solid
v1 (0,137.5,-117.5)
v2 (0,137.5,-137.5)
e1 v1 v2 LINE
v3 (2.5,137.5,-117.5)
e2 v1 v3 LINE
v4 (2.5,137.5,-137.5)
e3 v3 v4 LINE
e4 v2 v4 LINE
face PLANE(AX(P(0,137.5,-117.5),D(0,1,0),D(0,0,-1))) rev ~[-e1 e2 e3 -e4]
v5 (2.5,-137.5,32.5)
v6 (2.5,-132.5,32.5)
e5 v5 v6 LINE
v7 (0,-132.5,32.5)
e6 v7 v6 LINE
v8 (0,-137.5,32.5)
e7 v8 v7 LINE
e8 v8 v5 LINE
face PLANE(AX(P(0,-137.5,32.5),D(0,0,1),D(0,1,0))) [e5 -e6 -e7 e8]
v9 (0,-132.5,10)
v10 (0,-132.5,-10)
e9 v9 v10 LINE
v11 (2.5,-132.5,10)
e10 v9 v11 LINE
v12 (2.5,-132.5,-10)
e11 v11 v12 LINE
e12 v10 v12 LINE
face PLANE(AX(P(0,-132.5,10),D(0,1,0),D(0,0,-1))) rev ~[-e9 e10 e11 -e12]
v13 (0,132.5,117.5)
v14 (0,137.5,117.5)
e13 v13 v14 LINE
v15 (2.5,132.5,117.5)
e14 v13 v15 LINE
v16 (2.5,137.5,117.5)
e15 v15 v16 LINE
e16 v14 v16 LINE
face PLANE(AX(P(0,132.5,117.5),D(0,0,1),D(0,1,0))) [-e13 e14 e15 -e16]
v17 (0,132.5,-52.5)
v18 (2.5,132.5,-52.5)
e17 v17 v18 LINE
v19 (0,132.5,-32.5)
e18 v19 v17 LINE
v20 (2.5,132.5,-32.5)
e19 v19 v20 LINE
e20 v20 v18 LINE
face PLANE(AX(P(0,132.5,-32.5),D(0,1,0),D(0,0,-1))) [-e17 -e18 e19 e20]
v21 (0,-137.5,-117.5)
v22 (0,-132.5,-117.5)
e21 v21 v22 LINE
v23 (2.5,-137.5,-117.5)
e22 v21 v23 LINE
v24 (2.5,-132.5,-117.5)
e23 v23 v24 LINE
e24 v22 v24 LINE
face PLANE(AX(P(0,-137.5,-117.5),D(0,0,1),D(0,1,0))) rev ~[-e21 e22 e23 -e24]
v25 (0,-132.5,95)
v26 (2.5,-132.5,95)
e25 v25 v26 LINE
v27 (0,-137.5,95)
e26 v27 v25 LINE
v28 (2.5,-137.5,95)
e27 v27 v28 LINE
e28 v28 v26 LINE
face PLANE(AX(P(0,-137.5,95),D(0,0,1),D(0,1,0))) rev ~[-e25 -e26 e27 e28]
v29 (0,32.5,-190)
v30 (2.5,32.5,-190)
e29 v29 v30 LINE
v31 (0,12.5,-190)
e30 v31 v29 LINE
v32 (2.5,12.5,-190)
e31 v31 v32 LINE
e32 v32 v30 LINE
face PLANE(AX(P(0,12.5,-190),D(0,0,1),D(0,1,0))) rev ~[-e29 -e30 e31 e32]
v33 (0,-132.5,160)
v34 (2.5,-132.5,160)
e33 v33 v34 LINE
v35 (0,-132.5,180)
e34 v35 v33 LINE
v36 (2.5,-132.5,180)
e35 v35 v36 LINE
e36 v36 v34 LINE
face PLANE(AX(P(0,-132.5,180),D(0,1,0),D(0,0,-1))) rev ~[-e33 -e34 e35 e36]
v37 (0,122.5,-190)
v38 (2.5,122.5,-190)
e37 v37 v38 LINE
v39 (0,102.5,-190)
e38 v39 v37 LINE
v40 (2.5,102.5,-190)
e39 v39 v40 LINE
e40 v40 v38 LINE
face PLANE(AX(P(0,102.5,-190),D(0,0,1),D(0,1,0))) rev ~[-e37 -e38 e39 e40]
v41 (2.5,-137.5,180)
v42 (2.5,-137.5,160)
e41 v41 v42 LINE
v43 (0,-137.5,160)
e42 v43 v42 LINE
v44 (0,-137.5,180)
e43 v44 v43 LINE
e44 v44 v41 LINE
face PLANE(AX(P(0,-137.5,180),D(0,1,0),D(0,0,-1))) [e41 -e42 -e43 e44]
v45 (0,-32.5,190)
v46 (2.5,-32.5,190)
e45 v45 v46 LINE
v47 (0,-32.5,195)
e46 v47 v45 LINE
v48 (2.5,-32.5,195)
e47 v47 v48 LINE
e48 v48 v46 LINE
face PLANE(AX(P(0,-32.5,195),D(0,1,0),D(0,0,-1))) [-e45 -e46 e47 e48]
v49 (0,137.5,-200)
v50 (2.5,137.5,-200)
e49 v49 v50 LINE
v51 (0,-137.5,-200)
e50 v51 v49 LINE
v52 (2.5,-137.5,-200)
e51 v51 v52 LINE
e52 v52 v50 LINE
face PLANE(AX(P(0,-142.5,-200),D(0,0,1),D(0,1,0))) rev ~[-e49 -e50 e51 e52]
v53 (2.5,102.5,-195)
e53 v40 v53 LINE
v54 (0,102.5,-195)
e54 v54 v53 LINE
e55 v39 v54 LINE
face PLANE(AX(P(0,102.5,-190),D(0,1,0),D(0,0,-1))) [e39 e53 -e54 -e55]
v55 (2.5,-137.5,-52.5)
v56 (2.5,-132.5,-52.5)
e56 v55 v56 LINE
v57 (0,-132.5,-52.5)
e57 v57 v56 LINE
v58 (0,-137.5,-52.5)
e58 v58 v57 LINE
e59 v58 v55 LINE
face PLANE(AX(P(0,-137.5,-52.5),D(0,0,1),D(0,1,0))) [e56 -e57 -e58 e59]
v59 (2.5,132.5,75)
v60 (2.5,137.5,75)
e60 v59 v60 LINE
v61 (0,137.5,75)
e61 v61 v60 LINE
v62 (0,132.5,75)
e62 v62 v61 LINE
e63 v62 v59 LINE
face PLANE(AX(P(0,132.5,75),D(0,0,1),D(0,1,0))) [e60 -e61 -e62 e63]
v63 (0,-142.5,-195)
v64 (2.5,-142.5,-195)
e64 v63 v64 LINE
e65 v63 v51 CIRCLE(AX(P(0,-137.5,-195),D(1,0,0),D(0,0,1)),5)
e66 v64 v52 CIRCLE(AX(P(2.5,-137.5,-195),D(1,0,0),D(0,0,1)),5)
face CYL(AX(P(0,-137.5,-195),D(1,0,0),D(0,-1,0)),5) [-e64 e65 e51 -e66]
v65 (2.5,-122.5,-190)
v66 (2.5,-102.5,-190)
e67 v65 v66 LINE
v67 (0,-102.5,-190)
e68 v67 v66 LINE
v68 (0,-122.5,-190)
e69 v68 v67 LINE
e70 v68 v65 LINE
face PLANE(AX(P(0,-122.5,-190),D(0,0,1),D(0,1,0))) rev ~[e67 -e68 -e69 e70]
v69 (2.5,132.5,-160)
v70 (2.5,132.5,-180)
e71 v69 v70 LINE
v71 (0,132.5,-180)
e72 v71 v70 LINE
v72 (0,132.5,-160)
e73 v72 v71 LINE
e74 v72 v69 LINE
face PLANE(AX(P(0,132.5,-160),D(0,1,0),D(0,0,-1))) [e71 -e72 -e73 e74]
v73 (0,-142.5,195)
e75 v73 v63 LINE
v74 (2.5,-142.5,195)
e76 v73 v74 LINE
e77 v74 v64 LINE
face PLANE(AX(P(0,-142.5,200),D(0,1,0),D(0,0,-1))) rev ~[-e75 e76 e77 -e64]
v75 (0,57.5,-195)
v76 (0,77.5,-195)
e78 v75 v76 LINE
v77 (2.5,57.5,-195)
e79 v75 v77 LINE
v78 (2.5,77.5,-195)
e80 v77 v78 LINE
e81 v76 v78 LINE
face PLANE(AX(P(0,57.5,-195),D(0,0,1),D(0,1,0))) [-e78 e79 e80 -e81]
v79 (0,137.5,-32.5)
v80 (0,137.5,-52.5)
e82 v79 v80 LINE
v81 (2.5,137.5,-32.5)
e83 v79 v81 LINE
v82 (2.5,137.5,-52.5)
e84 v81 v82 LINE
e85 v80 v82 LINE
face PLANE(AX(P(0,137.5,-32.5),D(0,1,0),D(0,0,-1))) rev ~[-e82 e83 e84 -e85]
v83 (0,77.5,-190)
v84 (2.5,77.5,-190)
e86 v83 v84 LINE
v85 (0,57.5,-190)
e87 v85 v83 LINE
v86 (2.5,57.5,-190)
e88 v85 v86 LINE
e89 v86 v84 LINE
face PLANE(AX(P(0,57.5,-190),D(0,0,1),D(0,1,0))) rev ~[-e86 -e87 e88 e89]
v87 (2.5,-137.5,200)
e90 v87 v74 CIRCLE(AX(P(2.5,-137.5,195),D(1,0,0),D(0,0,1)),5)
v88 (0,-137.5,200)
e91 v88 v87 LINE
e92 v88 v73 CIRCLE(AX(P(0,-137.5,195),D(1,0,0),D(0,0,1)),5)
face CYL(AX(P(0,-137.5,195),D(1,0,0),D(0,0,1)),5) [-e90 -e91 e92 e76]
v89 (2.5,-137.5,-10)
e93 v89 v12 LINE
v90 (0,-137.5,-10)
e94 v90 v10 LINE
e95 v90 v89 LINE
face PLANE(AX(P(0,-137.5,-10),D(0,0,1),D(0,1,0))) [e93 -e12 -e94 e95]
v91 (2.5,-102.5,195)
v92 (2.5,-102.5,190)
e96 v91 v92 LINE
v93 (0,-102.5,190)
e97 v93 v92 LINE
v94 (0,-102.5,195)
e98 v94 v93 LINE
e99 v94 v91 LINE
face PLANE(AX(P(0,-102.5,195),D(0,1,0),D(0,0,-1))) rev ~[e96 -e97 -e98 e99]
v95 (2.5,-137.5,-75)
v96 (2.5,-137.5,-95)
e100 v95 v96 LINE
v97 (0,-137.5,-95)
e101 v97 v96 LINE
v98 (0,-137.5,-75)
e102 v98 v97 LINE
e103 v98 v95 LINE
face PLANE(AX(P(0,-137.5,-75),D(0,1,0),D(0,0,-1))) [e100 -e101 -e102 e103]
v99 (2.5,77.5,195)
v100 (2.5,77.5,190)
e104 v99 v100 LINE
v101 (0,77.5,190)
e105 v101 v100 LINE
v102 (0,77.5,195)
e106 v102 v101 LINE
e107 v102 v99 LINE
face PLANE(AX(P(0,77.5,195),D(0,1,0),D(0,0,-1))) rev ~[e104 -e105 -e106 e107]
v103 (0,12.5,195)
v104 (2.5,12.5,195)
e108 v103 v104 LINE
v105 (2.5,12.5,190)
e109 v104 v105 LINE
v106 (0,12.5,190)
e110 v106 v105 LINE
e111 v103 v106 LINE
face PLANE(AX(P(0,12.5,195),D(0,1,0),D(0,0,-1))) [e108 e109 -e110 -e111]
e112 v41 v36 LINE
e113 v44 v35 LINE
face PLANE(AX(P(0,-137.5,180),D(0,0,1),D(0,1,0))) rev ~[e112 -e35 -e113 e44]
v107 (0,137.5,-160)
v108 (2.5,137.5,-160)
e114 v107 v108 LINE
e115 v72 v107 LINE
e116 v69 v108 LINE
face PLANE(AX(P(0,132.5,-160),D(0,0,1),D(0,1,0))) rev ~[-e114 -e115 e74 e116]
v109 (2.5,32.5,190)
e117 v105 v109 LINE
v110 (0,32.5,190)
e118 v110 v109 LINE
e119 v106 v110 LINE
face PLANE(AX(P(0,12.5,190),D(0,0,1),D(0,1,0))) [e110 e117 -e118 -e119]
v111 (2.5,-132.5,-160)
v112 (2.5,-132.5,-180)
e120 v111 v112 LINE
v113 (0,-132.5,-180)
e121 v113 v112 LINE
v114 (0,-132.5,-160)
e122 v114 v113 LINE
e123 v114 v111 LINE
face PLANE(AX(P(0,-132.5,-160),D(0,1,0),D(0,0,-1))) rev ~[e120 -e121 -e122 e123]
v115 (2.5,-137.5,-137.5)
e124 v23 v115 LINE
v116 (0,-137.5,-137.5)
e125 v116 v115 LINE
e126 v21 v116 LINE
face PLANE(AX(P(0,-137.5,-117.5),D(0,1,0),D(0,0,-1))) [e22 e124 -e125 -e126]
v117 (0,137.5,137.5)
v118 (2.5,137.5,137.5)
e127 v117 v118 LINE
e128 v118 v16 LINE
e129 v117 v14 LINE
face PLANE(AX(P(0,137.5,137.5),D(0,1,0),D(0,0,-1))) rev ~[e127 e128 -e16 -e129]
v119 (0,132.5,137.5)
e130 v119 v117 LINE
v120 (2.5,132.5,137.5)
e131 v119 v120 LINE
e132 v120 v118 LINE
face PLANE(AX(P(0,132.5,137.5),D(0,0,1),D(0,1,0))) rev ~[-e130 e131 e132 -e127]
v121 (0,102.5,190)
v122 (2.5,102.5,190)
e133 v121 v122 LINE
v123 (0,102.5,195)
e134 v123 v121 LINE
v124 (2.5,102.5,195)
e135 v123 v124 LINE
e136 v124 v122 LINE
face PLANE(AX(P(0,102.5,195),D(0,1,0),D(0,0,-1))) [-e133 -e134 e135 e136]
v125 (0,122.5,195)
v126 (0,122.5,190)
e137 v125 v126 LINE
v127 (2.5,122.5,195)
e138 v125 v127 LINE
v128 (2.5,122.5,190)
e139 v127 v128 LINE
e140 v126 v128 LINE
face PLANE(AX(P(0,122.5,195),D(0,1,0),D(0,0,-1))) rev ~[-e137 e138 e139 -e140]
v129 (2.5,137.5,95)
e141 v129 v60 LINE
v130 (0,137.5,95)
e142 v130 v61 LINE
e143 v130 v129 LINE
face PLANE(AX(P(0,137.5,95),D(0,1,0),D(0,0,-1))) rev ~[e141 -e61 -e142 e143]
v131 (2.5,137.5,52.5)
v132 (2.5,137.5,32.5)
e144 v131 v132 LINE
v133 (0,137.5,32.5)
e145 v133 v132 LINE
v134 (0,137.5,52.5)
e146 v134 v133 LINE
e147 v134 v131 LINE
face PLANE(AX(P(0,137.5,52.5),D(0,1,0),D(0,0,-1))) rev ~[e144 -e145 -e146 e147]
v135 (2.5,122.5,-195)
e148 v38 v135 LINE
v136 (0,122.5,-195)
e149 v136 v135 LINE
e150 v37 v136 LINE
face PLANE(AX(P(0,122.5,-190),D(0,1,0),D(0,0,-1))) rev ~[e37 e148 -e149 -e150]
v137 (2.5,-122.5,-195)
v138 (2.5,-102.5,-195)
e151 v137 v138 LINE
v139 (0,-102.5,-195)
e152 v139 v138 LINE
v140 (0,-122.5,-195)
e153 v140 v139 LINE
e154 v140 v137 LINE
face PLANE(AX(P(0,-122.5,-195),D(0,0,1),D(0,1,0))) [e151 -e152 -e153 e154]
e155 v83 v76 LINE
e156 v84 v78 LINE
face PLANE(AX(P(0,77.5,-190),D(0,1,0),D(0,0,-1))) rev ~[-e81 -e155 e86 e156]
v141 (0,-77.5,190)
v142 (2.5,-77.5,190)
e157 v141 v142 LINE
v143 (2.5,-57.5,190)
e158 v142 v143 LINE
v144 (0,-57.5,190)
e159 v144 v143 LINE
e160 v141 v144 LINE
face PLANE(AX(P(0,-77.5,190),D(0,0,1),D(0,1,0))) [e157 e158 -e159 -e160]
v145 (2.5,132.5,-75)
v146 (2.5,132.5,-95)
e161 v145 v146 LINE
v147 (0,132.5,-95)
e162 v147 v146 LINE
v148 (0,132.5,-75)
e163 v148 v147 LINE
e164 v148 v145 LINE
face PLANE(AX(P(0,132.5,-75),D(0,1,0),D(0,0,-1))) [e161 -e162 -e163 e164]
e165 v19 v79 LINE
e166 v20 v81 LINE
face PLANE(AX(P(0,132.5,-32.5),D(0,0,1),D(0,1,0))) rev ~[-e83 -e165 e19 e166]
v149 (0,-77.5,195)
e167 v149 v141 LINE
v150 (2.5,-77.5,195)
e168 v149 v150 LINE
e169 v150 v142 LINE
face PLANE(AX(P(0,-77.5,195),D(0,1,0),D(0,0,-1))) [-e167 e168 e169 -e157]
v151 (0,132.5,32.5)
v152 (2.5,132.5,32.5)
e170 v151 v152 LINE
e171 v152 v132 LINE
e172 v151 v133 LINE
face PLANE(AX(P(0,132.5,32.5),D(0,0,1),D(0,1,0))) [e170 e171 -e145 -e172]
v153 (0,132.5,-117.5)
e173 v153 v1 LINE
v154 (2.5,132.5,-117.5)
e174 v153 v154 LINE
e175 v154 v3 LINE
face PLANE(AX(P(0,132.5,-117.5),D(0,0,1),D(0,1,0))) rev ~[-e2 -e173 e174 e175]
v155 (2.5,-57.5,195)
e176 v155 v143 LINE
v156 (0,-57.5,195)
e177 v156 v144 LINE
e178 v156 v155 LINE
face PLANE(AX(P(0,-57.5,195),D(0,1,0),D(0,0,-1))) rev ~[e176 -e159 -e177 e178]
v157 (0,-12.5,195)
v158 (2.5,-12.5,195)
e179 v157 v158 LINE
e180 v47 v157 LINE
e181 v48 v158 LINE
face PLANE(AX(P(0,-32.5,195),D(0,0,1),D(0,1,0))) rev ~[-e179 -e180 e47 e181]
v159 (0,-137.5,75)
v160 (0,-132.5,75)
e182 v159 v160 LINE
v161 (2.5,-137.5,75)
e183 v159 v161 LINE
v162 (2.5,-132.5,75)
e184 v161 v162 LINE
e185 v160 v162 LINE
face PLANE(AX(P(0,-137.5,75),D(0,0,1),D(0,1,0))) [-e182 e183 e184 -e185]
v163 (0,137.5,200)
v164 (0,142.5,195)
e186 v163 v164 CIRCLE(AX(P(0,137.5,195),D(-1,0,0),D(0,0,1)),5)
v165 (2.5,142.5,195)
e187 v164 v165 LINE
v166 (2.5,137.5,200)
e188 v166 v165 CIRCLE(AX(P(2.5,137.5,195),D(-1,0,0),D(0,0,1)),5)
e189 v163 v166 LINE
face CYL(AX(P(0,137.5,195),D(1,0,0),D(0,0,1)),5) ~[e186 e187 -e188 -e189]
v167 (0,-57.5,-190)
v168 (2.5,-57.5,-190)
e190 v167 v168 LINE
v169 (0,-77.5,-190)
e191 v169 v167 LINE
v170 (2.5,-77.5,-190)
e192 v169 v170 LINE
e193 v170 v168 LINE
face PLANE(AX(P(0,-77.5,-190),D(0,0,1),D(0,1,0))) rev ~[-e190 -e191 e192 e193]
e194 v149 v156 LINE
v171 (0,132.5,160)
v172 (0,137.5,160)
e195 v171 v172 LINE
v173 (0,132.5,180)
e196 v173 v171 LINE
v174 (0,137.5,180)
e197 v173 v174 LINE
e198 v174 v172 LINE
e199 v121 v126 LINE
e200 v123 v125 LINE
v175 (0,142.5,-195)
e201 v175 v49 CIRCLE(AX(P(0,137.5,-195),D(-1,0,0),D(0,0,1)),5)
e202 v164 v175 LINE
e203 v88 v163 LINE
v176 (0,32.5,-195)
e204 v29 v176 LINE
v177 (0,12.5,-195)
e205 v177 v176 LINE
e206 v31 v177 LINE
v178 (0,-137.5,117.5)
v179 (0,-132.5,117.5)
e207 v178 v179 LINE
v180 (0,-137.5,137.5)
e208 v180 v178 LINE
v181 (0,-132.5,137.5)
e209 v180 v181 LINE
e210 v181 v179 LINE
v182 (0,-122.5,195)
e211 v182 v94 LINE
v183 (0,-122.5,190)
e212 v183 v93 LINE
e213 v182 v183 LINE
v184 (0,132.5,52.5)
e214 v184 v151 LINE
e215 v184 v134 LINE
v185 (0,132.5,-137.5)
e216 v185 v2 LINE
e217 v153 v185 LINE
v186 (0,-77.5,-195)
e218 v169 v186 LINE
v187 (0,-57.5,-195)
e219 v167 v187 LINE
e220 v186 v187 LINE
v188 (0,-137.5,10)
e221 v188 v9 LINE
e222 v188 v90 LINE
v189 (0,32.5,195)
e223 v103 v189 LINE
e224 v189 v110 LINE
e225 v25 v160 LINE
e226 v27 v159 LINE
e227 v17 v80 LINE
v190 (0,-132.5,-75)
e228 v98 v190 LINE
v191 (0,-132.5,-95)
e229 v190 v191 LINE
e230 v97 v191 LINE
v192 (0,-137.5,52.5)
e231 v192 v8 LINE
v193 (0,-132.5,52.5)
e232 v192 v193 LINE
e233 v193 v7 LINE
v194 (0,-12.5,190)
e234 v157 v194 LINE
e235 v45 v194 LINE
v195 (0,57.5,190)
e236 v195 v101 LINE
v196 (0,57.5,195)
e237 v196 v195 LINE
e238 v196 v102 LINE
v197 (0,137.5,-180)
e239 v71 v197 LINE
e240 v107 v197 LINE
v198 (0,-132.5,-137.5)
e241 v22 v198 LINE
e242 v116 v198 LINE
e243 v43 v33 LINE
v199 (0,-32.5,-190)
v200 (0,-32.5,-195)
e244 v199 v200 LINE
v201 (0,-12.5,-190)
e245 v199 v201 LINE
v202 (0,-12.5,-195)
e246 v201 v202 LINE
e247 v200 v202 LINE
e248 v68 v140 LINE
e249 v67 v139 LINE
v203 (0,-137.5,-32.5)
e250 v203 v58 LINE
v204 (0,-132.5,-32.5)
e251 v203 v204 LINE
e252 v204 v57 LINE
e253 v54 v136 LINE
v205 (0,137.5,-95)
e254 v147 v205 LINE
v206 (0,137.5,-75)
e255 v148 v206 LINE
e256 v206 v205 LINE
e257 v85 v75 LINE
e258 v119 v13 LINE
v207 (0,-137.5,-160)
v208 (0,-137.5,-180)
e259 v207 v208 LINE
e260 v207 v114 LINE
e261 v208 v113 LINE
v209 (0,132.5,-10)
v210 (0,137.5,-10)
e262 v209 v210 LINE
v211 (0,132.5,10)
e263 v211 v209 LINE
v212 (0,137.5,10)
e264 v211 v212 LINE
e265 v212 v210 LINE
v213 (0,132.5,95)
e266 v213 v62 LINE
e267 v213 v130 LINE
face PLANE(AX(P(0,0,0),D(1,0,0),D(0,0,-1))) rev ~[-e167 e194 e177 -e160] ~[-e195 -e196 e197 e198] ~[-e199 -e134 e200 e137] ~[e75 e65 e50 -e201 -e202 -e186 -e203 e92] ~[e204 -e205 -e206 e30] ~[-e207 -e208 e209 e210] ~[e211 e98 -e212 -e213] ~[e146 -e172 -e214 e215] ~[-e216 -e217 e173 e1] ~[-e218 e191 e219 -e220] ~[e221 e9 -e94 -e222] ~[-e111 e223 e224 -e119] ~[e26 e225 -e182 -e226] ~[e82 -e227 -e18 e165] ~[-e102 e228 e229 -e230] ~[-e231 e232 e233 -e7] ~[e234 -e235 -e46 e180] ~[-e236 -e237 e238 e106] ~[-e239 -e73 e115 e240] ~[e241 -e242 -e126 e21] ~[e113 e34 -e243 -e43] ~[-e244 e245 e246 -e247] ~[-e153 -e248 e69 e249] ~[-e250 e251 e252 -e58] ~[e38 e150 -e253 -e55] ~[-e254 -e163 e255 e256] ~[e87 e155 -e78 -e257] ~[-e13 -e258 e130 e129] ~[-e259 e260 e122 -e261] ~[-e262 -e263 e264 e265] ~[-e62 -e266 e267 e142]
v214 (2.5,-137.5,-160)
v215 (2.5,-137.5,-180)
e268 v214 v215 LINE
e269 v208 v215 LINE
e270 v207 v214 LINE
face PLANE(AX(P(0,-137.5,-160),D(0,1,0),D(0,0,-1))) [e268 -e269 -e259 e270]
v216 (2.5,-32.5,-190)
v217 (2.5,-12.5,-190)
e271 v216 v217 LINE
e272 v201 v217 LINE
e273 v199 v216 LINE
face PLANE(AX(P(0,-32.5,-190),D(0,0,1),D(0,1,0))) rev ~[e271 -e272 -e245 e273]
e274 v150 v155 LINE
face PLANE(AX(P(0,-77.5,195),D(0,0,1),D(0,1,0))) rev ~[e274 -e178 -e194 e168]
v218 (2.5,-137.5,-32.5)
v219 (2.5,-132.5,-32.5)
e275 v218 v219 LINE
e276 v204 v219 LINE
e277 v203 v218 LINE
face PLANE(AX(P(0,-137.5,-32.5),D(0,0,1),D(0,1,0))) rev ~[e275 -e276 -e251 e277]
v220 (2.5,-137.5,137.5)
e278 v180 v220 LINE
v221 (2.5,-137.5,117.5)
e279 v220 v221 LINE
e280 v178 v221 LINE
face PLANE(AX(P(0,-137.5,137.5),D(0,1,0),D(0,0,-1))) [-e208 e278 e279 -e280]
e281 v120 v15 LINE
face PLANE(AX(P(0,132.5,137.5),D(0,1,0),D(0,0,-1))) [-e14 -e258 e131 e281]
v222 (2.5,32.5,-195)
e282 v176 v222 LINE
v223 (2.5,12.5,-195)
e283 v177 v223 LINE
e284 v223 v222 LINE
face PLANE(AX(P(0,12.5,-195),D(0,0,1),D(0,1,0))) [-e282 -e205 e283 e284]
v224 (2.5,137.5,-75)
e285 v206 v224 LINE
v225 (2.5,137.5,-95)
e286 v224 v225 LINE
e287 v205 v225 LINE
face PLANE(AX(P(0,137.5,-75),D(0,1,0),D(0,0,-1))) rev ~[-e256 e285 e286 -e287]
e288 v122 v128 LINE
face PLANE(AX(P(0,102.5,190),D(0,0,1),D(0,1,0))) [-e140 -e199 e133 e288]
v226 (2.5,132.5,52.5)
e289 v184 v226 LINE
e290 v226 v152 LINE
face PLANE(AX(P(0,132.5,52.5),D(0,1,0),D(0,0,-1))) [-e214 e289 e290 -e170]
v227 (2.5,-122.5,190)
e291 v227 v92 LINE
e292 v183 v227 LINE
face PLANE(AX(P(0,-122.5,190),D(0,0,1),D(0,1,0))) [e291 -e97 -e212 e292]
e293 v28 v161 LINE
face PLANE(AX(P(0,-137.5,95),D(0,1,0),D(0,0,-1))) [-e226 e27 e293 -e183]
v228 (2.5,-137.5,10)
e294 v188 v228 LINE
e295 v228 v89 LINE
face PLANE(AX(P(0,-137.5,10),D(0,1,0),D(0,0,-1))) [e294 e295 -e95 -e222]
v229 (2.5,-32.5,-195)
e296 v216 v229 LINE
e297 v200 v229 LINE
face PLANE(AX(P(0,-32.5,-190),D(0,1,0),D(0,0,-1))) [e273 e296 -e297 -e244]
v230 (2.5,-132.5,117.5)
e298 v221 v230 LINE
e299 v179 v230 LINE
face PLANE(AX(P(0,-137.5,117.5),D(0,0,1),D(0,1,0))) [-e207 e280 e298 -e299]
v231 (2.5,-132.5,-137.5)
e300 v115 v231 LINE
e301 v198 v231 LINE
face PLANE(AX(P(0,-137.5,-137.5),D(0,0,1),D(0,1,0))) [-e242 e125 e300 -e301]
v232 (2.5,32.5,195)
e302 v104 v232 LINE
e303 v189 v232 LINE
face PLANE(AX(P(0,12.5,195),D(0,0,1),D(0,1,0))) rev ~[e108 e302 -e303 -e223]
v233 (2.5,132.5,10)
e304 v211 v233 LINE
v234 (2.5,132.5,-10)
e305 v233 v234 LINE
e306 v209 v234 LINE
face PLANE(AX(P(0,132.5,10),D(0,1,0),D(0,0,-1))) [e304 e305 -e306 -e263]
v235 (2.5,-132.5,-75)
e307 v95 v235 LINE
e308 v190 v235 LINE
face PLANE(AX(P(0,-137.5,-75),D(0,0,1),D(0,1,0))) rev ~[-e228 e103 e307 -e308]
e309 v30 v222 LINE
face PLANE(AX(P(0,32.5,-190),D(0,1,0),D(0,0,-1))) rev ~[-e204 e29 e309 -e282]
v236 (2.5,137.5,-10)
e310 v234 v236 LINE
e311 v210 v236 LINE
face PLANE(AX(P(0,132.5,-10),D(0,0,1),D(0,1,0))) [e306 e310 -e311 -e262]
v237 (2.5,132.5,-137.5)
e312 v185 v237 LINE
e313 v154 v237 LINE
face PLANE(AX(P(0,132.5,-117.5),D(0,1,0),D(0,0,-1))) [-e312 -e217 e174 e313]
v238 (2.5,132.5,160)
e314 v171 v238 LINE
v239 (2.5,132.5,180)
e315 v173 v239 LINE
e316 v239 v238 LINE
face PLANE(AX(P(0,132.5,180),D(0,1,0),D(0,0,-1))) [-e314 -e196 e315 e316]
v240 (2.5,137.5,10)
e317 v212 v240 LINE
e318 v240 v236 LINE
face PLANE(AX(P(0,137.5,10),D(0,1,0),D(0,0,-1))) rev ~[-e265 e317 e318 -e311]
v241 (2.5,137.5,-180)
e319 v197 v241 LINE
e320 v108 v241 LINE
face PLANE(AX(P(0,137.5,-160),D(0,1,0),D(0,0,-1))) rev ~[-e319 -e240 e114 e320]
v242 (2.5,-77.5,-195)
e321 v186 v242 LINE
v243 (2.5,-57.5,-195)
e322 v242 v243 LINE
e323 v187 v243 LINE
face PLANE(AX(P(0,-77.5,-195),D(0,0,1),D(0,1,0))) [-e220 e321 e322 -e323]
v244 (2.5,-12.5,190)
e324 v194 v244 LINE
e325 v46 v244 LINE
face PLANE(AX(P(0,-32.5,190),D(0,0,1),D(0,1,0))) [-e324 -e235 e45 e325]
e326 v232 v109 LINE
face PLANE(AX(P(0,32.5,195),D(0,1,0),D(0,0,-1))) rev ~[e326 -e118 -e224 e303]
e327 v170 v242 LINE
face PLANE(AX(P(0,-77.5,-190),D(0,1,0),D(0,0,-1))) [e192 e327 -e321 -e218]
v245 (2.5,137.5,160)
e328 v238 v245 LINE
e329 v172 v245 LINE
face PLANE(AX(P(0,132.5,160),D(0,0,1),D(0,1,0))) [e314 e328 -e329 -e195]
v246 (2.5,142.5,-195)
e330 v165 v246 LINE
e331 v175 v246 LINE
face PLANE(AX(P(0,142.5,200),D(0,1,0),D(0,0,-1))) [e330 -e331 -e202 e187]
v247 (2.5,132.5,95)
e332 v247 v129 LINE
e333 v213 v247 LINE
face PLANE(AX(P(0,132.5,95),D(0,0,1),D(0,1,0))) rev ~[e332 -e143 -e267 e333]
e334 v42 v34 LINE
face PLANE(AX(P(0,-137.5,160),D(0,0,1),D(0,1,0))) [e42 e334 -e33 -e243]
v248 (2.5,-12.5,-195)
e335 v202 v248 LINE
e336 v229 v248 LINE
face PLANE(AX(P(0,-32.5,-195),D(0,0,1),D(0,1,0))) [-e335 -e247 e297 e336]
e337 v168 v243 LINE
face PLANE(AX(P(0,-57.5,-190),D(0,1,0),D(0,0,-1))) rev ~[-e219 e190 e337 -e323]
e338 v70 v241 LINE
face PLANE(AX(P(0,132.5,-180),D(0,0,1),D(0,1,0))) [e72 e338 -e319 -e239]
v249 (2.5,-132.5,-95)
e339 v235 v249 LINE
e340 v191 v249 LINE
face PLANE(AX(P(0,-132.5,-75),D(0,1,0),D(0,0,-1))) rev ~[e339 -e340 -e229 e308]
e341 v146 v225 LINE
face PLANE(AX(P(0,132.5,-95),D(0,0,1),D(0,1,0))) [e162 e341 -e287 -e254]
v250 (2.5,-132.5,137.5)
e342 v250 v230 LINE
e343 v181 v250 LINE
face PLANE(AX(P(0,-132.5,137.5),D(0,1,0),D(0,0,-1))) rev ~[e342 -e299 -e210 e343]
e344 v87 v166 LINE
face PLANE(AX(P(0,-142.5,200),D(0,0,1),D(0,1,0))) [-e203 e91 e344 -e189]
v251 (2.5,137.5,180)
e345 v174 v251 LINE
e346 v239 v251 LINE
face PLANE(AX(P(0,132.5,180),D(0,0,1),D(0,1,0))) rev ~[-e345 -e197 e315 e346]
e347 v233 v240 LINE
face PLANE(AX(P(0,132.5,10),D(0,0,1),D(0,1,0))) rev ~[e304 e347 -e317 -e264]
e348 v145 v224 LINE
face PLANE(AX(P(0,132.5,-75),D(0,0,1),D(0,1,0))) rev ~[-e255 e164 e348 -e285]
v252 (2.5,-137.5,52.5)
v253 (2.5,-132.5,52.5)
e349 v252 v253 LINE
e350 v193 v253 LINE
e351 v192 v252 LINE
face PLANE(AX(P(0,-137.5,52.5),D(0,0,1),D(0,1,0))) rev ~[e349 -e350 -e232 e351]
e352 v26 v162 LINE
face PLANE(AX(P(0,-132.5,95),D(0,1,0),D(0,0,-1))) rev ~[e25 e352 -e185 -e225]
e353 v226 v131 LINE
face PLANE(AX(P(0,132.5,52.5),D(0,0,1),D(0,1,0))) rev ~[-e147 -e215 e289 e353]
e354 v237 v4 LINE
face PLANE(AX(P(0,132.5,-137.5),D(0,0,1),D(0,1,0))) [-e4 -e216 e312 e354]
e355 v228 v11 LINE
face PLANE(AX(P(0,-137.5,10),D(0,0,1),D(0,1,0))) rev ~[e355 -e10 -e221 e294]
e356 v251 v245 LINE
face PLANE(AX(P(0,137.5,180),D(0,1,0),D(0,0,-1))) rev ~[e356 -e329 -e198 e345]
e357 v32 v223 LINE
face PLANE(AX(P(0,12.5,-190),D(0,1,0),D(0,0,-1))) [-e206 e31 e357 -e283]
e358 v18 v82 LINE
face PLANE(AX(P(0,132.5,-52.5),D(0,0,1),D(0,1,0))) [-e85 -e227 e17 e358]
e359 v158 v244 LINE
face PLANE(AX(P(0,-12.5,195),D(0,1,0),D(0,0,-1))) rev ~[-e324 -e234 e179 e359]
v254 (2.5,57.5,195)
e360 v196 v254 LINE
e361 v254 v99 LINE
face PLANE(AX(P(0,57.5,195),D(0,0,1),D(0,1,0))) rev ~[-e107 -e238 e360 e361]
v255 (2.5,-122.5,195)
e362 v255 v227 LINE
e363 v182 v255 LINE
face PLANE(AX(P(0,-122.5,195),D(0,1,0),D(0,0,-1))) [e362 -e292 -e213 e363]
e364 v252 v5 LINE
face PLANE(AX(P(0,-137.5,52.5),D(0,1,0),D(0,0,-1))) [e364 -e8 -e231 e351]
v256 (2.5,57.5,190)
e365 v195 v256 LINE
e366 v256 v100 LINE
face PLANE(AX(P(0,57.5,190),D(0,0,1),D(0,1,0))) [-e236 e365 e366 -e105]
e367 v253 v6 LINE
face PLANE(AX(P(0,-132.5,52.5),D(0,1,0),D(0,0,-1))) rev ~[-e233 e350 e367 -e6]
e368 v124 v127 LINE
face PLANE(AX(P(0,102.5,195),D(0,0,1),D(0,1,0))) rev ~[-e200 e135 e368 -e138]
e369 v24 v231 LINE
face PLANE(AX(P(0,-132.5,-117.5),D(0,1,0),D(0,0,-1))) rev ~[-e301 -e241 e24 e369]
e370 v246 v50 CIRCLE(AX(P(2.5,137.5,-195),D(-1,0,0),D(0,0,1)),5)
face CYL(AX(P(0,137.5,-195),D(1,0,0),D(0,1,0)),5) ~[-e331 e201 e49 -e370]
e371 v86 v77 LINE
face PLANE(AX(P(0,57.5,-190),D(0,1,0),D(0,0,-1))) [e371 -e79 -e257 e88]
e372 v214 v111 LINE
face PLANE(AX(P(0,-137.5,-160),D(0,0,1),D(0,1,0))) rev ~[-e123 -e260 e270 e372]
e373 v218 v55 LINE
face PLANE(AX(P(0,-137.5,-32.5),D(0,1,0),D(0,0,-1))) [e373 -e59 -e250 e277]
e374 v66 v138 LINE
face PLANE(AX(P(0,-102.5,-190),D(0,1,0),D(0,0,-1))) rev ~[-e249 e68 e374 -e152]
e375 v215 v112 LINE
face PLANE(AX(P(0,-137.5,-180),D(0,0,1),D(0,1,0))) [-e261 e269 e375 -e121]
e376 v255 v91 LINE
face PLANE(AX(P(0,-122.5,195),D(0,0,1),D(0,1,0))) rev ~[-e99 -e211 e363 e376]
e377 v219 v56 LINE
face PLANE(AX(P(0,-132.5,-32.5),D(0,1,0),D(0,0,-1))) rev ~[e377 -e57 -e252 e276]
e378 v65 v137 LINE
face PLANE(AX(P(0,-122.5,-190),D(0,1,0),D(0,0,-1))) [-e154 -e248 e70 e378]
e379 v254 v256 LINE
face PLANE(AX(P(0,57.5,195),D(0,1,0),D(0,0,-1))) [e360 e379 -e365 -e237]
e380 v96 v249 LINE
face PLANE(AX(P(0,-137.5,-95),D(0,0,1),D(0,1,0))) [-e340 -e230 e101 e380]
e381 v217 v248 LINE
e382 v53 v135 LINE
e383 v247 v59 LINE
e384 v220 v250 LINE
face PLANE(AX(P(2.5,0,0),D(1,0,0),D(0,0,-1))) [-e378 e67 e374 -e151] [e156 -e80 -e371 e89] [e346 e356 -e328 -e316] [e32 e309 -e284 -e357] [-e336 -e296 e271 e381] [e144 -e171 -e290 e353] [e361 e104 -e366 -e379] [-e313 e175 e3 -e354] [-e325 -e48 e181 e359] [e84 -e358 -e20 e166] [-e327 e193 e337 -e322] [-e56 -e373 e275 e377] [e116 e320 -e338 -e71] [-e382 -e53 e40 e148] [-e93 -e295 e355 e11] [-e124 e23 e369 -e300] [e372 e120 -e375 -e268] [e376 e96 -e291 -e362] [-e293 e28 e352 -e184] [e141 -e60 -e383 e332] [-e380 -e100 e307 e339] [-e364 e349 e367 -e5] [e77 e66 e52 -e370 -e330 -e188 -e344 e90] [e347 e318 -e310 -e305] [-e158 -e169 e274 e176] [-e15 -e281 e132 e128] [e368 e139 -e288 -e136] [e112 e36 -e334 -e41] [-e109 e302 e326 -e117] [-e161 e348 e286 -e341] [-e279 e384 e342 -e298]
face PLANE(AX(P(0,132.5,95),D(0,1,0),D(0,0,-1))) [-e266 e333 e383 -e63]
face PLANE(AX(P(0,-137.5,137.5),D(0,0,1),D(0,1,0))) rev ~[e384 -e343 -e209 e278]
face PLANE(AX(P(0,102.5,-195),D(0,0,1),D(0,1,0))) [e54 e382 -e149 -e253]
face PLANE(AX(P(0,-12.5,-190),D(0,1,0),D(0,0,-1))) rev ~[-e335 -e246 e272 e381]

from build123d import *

# Parameters (mm, degrees)
SKETCH1_2_W         = 400
SKETCH1_2_H         = 285
SKETCH1_2_W_2       = 20
SKETCH1_2_H_2       = 5
SKETCH1_2_W_3       = 5
SKETCH1_2_H_3       = 20
BOSS_EXTRUDE3_DEPTH = 2.5
FILLET2_R           = 5


with BuildPart() as part:
    # Sketch1<2> → Boss-Extrude3 (new body)
    with BuildSketch(Plane(origin=(0, 0, 0), x_dir=(0, 0, -1), z_dir=(1, 0, 0))):
        Rectangle(SKETCH1_2_W, SKETCH1_2_H)
        with Locations((-170, 135)):
            Rectangle(SKETCH1_2_W_2, SKETCH1_2_H_2, mode=Mode.SUBTRACT)
        with Locations((-170, -135)):
            Rectangle(SKETCH1_2_W_2, SKETCH1_2_H_2, mode=Mode.SUBTRACT)
        with Locations((-127.5, 135)):
            Rectangle(SKETCH1_2_W_2, SKETCH1_2_H_2, mode=Mode.SUBTRACT)
        with Locations((-127.5, -135)):
            Rectangle(SKETCH1_2_W_2, SKETCH1_2_H_2, mode=Mode.SUBTRACT)
        with Locations((-85, 135)):
            Rectangle(SKETCH1_2_W_2, SKETCH1_2_H_2, mode=Mode.SUBTRACT)
        with Locations((-85, -135)):
            Rectangle(SKETCH1_2_W_2, SKETCH1_2_H_2, mode=Mode.SUBTRACT)
        with Locations((-42.5, 135)):
            Rectangle(SKETCH1_2_W_2, SKETCH1_2_H_2, mode=Mode.SUBTRACT)
        with Locations((-42.5, -135)):
            Rectangle(SKETCH1_2_W_2, SKETCH1_2_H_2, mode=Mode.SUBTRACT)
        with Locations((0, 135)):
            Rectangle(SKETCH1_2_W_2, SKETCH1_2_H_2, mode=Mode.SUBTRACT)
        with Locations((0, -135)):
            Rectangle(SKETCH1_2_W_2, SKETCH1_2_H_2, mode=Mode.SUBTRACT)
        with Locations((42.5, 135)):
            Rectangle(SKETCH1_2_W_2, SKETCH1_2_H_2, mode=Mode.SUBTRACT)
        with Locations((42.5, -135)):
            Rectangle(SKETCH1_2_W_2, SKETCH1_2_H_2, mode=Mode.SUBTRACT)
        with Locations((85, 135)):
            Rectangle(SKETCH1_2_W_2, SKETCH1_2_H_2, mode=Mode.SUBTRACT)
        with Locations((85, -135)):
            Rectangle(SKETCH1_2_W_2, SKETCH1_2_H_2, mode=Mode.SUBTRACT)
        with Locations((127.5, 135)):
            Rectangle(SKETCH1_2_W_2, SKETCH1_2_H_2, mode=Mode.SUBTRACT)
        with Locations((127.5, -135)):
            Rectangle(SKETCH1_2_W_2, SKETCH1_2_H_2, mode=Mode.SUBTRACT)
        with Locations((170, 135)):
            Rectangle(SKETCH1_2_W_2, SKETCH1_2_H_2, mode=Mode.SUBTRACT)
        with Locations((170, -135)):
            Rectangle(SKETCH1_2_W_2, SKETCH1_2_H_2, mode=Mode.SUBTRACT)
        with Locations((192.5, 112.5)):
            Rectangle(SKETCH1_2_W_3, SKETCH1_2_H_3, mode=Mode.SUBTRACT)
        with Locations((-192.5, 112.5)):
            Rectangle(SKETCH1_2_W_3, SKETCH1_2_H_3, mode=Mode.SUBTRACT)
        with Locations((-192.5, 67.5)):
            Rectangle(SKETCH1_2_W_3, SKETCH1_2_H_3, mode=Mode.SUBTRACT)
        with Locations((192.5, 67.5)):
            Rectangle(SKETCH1_2_W_3, SKETCH1_2_H_3, mode=Mode.SUBTRACT)
        with Locations((-192.5, 22.5)):
            Rectangle(SKETCH1_2_W_3, SKETCH1_2_H_3, mode=Mode.SUBTRACT)
        with Locations((192.5, 22.5)):
            Rectangle(SKETCH1_2_W_3, SKETCH1_2_H_3, mode=Mode.SUBTRACT)
        with Locations((-192.5, -22.5)):
            Rectangle(SKETCH1_2_W_3, SKETCH1_2_H_3, mode=Mode.SUBTRACT)
        with Locations((192.5, -22.5)):
            Rectangle(SKETCH1_2_W_3, SKETCH1_2_H_3, mode=Mode.SUBTRACT)
        with Locations((-192.5, -67.5)):
            Rectangle(SKETCH1_2_W_3, SKETCH1_2_H_3, mode=Mode.SUBTRACT)
        with Locations((192.5, -67.5)):
            Rectangle(SKETCH1_2_W_3, SKETCH1_2_H_3, mode=Mode.SUBTRACT)
        with Locations((-192.5, -112.5)):
            Rectangle(SKETCH1_2_W_3, SKETCH1_2_H_3, mode=Mode.SUBTRACT)
        with Locations((192.5, -112.5)):
            Rectangle(SKETCH1_2_W_3, SKETCH1_2_H_3, mode=Mode.SUBTRACT)
    extrude(amount=BOSS_EXTRUDE3_DEPTH)

    # Fillet2
    fillet2_edges = [part.edges().sort_by_distance(p)[0] for p in [
        (1.25, -142.5, 200),
        (1.25, 142.5, 200),
        (1.25, 142.5, -200),
        (1.25, -142.5, -200),
    ]]
    fillet(fillet2_edges, radius=FILLET2_R)


solid = part.part
